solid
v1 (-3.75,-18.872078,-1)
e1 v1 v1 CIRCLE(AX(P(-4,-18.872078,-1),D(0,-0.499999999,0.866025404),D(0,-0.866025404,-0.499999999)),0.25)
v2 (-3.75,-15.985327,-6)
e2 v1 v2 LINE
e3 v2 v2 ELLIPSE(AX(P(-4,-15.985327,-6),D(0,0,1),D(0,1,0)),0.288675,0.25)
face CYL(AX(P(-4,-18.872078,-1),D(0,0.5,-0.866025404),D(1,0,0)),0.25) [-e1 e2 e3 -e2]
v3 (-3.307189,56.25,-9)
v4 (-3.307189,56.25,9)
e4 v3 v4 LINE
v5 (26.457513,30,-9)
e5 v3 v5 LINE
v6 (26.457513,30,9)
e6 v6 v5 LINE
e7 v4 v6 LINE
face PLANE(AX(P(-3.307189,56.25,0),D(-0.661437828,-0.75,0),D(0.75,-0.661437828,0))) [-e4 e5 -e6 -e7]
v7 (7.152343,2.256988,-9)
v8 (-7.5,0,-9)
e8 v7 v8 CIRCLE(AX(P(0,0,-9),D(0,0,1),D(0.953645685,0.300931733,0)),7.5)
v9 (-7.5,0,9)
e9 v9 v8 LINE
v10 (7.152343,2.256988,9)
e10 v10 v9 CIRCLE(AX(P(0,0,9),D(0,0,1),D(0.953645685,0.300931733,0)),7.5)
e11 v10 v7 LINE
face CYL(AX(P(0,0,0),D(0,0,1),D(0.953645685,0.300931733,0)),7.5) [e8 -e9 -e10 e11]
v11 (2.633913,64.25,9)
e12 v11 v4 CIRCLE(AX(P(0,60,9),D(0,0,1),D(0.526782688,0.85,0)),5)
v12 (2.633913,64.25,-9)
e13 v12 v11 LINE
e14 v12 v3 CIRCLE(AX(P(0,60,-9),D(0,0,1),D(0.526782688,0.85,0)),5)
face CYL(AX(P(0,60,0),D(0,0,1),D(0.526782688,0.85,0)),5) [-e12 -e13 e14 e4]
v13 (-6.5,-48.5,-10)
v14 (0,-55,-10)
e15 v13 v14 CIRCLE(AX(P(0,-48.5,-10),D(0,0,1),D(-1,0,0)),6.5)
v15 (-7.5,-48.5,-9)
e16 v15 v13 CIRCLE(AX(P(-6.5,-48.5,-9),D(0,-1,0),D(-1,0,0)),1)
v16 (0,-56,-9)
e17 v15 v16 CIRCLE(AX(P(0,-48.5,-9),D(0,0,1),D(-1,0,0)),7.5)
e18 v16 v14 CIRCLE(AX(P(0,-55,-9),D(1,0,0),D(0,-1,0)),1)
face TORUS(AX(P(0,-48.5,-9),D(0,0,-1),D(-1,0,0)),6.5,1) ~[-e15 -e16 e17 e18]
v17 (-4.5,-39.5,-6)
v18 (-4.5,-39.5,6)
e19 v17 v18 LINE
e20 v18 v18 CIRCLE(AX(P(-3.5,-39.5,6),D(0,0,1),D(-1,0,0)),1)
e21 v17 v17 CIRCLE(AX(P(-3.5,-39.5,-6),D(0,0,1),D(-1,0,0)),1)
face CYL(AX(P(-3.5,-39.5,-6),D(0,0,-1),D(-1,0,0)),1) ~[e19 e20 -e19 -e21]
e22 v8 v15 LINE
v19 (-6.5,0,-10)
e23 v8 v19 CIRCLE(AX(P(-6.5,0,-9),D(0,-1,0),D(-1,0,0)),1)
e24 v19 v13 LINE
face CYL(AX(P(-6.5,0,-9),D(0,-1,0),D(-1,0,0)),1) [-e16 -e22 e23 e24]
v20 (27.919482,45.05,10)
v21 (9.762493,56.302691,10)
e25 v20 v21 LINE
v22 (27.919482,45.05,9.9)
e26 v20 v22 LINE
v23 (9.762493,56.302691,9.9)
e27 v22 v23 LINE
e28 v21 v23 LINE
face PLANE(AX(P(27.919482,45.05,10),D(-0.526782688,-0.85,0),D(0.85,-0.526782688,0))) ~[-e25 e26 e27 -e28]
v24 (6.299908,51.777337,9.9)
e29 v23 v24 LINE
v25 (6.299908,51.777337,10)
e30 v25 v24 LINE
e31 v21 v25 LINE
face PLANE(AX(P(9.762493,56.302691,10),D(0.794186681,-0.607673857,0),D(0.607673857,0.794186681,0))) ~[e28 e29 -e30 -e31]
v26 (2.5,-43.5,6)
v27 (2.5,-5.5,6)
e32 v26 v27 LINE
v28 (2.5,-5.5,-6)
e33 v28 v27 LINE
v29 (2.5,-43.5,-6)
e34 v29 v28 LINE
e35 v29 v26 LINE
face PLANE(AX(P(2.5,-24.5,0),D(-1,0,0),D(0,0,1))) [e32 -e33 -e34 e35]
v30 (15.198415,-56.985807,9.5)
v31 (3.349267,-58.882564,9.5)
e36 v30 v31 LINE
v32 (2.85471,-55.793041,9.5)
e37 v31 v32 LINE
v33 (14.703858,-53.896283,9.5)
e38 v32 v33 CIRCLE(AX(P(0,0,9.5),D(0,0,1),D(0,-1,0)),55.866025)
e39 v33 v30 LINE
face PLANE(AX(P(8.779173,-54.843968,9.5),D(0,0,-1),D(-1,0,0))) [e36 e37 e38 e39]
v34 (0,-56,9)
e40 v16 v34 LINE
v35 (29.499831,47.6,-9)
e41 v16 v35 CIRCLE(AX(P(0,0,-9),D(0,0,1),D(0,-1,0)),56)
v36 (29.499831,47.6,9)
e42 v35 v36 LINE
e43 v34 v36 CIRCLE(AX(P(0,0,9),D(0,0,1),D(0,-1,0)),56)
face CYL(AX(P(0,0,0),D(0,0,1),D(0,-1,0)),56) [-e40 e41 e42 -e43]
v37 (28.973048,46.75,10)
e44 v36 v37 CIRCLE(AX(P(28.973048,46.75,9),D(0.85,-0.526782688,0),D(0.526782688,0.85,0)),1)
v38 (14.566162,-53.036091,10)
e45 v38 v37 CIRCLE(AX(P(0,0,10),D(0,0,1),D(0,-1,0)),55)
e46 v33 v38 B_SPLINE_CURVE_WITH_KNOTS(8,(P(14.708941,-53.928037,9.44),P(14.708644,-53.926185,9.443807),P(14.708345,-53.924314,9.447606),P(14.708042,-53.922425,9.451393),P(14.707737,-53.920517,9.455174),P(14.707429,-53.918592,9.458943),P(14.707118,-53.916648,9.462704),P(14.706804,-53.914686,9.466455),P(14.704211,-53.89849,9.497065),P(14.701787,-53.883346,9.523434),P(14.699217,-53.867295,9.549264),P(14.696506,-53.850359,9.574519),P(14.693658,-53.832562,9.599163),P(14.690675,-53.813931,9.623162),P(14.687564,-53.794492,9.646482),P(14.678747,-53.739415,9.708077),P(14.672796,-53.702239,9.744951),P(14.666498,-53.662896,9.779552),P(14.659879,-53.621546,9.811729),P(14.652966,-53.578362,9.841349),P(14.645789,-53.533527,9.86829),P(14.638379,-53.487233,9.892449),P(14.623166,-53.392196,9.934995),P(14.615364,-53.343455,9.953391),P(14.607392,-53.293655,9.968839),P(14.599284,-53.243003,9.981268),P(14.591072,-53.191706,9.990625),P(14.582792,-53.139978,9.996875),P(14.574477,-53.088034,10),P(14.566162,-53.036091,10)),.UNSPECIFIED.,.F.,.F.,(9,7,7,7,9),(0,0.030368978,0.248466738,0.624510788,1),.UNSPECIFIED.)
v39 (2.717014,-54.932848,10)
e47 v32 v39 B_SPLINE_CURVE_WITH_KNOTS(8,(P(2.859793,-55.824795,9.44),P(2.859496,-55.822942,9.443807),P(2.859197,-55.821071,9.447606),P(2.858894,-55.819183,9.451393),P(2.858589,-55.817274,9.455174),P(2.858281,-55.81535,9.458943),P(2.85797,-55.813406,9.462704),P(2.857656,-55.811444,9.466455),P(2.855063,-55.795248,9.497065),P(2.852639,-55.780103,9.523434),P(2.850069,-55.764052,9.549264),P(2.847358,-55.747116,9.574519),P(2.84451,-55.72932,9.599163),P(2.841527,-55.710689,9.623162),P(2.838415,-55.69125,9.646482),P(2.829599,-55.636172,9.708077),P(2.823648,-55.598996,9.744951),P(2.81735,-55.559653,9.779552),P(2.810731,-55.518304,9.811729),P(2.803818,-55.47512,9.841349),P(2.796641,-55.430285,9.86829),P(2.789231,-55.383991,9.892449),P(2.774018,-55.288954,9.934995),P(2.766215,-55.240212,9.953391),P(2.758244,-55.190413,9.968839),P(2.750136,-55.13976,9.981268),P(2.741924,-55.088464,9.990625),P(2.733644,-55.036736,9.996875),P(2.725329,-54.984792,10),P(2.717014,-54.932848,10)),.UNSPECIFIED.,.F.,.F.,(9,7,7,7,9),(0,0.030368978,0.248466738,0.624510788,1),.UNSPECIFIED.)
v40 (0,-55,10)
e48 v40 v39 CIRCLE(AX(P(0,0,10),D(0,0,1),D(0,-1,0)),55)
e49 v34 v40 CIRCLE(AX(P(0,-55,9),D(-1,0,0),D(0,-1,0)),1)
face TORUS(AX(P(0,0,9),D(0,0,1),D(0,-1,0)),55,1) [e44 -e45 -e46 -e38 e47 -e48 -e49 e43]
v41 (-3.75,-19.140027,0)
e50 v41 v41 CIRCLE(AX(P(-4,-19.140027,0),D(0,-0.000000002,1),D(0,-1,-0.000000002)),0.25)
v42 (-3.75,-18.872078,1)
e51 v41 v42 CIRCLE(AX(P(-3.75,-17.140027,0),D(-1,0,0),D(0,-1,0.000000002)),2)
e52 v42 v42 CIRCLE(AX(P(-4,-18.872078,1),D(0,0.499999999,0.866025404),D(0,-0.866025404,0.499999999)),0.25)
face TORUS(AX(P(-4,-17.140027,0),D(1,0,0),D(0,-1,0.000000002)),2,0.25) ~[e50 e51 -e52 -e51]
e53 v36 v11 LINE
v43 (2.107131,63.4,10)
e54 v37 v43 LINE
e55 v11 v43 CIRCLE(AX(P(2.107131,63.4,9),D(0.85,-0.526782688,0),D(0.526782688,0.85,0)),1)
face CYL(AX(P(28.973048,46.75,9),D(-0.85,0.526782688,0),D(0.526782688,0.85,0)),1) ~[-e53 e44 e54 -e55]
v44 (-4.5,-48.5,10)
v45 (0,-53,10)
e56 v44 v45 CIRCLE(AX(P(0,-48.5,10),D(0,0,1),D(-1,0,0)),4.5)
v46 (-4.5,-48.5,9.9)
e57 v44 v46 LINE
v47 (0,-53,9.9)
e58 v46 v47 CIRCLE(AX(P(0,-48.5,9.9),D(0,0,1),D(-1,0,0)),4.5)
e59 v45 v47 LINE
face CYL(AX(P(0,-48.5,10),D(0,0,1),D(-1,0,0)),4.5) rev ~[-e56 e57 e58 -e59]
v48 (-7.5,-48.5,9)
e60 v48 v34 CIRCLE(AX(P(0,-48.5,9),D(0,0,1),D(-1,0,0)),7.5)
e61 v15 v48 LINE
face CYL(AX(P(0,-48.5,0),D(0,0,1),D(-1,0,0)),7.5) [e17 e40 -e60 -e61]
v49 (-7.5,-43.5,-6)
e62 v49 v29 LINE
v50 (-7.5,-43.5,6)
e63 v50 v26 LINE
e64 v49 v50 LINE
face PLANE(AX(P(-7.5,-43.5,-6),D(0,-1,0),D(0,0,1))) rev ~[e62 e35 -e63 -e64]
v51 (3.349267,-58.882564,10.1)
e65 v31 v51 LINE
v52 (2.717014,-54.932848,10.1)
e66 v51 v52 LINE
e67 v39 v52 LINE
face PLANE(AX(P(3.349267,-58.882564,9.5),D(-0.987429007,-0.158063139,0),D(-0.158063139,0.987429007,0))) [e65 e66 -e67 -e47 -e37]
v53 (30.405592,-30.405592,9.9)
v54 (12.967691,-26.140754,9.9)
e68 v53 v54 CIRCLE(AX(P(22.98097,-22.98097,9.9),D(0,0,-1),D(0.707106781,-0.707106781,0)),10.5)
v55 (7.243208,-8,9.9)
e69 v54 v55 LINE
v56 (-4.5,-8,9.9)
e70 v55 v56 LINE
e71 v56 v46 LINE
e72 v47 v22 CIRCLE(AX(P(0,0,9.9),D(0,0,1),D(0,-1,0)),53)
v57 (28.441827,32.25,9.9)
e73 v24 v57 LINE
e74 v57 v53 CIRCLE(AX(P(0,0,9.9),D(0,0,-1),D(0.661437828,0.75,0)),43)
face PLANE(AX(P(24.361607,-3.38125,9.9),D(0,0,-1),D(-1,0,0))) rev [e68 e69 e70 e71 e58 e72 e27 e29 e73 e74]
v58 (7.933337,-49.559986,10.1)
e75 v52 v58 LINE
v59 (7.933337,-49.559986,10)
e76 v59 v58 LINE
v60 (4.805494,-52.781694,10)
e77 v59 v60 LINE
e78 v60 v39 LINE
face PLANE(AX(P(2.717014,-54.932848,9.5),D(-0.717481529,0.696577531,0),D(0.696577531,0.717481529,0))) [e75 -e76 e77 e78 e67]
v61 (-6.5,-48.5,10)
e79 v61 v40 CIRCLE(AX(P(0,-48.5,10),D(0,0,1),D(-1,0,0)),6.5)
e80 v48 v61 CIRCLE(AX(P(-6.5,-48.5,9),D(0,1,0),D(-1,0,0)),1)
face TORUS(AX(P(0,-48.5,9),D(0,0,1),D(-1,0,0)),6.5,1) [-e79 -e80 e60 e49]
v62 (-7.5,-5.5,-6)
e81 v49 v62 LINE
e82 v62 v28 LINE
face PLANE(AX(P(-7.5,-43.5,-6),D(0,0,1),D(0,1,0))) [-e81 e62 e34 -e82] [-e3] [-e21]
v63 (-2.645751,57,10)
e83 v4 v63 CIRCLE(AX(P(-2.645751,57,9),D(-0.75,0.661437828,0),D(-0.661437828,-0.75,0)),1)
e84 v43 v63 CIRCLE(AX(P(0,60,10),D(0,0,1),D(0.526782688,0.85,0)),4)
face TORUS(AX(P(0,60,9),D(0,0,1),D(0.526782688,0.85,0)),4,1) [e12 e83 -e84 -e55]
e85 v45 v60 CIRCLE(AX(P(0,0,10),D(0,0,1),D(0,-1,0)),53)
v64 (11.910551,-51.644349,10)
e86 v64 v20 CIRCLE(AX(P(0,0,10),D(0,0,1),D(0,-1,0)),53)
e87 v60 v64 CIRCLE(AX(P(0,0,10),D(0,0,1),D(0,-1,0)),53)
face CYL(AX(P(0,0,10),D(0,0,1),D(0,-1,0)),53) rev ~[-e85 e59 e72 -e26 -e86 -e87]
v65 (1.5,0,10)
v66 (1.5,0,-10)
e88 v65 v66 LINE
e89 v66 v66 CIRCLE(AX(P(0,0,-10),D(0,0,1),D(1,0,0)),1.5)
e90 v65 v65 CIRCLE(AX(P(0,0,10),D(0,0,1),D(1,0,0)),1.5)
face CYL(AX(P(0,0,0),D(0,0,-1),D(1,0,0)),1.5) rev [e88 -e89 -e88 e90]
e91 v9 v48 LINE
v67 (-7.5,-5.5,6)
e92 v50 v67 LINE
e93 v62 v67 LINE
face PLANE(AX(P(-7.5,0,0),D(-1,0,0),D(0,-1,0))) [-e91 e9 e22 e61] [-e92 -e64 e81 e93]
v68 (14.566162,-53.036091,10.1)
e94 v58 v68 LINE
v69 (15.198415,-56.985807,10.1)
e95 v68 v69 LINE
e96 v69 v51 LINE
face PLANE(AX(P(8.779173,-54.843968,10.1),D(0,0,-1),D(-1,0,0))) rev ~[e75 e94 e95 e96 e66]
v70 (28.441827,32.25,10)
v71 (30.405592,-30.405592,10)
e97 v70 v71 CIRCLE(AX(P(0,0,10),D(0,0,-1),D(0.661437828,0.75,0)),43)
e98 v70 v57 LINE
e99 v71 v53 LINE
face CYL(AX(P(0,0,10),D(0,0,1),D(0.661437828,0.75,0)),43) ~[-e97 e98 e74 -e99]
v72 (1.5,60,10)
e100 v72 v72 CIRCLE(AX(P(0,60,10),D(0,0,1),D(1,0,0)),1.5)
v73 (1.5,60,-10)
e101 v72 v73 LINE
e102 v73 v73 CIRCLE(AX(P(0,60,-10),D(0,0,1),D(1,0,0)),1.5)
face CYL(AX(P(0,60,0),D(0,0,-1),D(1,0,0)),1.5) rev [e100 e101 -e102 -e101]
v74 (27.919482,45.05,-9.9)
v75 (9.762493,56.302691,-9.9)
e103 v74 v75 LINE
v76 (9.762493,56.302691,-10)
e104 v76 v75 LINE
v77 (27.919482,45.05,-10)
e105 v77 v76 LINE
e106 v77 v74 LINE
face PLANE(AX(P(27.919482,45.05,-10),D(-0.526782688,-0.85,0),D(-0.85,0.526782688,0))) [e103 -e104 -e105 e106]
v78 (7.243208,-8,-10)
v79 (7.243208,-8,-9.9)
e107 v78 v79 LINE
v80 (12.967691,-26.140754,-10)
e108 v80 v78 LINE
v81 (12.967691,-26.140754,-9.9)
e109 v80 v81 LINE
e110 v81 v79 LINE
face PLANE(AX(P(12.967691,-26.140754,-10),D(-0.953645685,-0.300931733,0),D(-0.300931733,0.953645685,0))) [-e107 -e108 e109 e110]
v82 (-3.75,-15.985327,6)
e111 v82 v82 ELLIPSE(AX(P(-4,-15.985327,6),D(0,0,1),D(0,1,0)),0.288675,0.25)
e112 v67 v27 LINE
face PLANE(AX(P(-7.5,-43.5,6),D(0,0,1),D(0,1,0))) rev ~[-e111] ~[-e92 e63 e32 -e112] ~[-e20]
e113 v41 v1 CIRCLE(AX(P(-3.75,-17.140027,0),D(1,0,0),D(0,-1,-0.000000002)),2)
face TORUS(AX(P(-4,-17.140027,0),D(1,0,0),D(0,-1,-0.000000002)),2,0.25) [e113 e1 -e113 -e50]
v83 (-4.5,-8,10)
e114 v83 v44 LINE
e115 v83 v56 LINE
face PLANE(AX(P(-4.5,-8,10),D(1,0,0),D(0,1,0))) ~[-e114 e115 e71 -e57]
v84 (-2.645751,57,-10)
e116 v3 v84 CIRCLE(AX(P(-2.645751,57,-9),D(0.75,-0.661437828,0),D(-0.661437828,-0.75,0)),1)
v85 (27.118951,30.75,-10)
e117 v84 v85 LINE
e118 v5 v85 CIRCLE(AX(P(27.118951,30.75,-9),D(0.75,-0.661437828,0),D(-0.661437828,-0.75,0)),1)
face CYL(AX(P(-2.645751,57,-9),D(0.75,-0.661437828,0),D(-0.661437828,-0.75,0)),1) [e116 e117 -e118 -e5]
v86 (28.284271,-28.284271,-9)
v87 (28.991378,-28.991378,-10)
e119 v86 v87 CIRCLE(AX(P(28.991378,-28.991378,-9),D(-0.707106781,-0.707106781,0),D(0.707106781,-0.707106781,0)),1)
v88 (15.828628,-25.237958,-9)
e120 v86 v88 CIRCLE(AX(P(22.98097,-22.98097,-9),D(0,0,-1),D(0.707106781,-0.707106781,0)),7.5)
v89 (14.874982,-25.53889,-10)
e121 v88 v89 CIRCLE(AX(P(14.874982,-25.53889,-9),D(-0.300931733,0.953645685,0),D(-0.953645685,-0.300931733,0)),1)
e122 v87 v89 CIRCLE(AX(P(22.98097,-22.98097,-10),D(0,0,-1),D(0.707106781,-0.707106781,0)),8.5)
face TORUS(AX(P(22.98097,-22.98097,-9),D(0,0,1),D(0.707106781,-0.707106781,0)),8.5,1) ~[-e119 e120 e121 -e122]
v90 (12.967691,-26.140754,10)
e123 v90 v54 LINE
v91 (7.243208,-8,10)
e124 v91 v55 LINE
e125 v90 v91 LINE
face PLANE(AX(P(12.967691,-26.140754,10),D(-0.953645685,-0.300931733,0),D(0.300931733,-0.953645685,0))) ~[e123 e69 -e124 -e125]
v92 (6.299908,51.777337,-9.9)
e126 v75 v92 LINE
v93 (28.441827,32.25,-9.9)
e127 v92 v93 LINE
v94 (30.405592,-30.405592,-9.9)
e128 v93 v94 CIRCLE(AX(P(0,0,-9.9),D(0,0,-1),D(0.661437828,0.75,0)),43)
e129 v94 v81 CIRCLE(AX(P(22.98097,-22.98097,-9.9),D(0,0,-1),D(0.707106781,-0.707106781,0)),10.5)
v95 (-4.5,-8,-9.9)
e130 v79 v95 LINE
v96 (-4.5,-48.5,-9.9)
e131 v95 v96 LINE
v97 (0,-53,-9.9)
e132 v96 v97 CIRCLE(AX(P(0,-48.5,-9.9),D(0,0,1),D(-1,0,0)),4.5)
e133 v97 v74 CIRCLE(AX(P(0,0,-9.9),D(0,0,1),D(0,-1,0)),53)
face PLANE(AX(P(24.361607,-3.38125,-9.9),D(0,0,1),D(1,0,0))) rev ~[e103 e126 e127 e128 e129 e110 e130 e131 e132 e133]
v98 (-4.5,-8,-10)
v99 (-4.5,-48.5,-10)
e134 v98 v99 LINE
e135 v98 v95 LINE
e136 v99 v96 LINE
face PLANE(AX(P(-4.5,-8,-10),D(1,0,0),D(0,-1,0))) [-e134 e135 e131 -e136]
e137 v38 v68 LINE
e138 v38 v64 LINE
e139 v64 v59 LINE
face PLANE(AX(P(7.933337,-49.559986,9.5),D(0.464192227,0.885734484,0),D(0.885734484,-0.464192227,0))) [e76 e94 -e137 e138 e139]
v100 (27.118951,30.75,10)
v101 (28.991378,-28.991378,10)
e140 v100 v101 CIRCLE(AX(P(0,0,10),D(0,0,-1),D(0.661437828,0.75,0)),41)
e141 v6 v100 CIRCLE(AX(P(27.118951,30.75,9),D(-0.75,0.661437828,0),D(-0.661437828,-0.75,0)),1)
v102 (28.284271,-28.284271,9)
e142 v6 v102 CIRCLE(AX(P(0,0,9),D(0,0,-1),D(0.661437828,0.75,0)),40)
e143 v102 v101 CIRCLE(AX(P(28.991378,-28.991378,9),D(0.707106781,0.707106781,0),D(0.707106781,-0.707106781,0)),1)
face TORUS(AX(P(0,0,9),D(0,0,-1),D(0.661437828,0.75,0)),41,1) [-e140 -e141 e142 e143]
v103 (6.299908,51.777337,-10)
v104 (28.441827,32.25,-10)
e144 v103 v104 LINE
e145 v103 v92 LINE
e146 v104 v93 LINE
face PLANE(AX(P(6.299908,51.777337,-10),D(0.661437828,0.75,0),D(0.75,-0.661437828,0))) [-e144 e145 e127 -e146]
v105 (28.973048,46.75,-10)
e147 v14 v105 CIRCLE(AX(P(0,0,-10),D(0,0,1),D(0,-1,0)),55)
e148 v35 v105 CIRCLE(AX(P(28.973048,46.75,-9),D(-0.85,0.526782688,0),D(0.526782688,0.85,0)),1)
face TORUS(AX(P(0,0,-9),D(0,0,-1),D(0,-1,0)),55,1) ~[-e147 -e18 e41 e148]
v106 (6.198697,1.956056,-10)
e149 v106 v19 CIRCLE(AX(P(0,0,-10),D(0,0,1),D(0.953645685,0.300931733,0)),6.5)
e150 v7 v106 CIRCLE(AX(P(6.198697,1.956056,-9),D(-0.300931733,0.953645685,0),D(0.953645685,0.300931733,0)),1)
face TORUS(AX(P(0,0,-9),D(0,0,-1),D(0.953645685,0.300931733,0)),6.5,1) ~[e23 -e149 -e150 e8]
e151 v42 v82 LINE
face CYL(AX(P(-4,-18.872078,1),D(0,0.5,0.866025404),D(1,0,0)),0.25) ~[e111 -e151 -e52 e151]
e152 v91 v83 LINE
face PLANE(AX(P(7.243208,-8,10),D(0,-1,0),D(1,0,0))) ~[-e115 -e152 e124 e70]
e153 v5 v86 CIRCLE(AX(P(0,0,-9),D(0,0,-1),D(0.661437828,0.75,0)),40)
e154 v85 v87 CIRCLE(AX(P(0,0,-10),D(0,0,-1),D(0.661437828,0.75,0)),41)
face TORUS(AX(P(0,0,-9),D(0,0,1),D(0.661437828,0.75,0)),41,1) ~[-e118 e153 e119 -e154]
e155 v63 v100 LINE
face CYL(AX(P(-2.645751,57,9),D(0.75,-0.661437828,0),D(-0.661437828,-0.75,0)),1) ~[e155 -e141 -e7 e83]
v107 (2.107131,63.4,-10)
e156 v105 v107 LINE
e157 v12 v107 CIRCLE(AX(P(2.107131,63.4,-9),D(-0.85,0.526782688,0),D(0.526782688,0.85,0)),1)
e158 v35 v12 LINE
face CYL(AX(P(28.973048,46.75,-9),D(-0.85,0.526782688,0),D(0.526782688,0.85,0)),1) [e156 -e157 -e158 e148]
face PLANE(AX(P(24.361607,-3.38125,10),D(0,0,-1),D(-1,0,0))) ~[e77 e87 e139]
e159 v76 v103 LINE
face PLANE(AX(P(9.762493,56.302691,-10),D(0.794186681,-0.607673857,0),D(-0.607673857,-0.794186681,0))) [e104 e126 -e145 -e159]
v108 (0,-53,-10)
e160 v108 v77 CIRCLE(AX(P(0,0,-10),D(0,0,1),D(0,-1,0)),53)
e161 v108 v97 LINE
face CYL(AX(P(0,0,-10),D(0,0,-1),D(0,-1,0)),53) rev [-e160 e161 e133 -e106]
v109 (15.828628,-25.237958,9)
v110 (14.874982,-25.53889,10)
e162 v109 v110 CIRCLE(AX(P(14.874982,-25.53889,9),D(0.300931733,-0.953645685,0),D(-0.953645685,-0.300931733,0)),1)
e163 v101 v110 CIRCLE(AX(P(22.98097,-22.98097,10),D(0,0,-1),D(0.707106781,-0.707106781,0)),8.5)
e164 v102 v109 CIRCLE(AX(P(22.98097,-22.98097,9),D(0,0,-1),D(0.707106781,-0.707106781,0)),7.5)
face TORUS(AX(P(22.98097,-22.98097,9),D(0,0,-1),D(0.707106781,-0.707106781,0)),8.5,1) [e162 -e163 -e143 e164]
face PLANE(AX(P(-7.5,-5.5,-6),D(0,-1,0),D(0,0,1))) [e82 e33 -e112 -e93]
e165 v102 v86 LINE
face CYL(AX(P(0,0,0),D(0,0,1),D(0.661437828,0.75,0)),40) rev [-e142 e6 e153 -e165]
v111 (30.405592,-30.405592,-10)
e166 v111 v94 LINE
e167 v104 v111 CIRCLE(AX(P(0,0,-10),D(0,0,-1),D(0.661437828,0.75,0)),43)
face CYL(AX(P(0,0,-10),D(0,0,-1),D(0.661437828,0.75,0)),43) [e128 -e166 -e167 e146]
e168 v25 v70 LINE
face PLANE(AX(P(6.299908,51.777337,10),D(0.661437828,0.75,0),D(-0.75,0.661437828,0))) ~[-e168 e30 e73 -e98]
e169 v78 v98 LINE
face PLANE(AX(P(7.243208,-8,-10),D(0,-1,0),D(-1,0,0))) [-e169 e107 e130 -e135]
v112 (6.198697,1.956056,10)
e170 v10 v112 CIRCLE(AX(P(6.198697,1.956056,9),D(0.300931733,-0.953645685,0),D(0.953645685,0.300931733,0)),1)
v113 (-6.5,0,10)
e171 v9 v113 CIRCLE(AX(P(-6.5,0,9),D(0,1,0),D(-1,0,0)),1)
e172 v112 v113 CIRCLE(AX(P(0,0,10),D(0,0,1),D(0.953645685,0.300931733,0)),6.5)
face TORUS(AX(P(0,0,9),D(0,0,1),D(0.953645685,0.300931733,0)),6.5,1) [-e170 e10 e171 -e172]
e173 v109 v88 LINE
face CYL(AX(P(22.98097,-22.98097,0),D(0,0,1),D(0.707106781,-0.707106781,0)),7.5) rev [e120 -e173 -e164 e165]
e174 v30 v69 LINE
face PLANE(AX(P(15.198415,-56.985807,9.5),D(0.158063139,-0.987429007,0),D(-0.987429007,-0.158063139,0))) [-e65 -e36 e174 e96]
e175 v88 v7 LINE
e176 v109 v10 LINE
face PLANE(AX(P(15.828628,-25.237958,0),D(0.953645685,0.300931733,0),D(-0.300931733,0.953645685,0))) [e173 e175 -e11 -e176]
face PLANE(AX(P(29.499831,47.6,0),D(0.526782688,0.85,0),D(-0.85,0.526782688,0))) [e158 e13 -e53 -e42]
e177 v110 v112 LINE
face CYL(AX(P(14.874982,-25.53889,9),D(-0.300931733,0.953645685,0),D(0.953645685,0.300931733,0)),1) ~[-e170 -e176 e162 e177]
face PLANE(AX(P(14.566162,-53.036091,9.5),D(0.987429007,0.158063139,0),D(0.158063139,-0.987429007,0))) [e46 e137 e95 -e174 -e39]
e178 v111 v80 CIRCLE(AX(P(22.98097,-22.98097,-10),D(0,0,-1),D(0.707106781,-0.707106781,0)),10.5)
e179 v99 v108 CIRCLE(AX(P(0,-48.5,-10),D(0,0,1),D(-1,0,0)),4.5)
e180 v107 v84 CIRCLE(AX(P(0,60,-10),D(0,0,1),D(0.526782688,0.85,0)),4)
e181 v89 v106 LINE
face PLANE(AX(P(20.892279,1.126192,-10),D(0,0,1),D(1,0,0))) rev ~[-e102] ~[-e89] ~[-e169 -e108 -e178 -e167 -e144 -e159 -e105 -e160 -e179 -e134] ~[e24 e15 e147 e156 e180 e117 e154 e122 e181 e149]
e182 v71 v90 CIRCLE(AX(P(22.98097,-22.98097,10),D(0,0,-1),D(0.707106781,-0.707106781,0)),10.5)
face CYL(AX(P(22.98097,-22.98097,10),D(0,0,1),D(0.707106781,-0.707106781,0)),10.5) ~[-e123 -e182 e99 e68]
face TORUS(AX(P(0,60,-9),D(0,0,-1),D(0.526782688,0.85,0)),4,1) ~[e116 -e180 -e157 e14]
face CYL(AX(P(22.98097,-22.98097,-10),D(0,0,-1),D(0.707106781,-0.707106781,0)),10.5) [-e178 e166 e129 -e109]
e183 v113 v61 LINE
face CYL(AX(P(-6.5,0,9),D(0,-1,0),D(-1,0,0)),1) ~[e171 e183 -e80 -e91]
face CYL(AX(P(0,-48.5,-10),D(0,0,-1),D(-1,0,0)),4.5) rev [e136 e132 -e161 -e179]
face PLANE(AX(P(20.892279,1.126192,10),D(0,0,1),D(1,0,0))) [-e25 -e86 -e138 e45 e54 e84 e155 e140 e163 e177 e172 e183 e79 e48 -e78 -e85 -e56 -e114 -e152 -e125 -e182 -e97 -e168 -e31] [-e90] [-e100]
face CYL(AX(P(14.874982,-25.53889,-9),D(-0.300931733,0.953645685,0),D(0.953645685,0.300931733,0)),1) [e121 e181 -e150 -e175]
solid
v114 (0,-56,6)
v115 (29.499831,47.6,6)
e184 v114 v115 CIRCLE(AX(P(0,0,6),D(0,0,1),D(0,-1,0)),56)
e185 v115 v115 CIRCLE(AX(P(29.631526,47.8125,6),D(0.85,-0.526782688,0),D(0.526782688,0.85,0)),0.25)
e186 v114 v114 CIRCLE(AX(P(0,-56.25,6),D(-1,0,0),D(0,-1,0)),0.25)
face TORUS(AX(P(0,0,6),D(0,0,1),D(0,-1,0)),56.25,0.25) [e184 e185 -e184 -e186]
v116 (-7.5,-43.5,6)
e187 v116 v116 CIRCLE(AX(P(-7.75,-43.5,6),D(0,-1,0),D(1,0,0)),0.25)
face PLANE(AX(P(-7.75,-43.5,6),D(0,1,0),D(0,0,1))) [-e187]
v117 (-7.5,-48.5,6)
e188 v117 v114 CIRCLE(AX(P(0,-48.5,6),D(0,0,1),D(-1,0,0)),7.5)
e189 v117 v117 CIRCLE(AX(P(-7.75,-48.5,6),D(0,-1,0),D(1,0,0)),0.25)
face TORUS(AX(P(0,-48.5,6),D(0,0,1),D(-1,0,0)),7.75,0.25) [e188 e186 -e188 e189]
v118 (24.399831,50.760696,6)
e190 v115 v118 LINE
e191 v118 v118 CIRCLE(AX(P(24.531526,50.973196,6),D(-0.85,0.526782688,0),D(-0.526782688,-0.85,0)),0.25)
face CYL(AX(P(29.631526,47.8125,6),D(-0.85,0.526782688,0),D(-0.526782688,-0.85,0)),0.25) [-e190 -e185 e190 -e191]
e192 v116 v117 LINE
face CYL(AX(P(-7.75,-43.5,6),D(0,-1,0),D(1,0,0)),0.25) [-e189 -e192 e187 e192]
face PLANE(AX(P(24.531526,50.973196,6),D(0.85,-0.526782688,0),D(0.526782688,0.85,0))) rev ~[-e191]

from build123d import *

# Parameters (mm, degrees)
ESQUISSE1_R             = 1.5
BOSS_EXTRU_1_DEPTH      = 10
CONG_1_R                = 1
BOSS_EXTRU_2_DEPTH      = 0.1
BOSS_EXTRU_2_DEPTH_BACK = 0.5
ENL_V_MAT_EXTRU_2_DEPTH = 0.1
ESQUISSE5_W             = 12
ESQUISSE5_H             = 38
ENL_V_MAT_EXTRU_3_DEPTH = 10
ESQUISSE6_R             = 1
BOSS_EXTRU_3_DEPTH      = 12
ESQUISSE9_R             = 0.25
ESQUISSE11_R            = 0.25


with BuildPart() as part:
    # Esquisse1 → Boss.-Extru.1 (new, symmetric)
    with BuildSketch(Plane.XY):
        with BuildLine():
            Line((-7.5, 0), (-7.5, -48.5))
            ThreePointArc((-7.5, -48.5), (-5.303300859, -53.803300859), (0, -56))
            ThreePointArc((0, -56), (53.859075373, -15.33623161), (29.499830508, 47.6))
            Line((29.499830508, 47.6), (2.633913438, 64.25))
            ThreePointArc((2.633913438, 64.25), (-4.014140636, 62.981052659), (-3.307189139, 56.25))
            Line((-3.307189139, 56.25), (26.457513111, 30))
            ThreePointArc((26.457513111, 30), (39.980367775, 1.253073266), (28.284271247, -28.284271247))
            ThreePointArc((28.284271247, -28.284271247), (21.199189149, -30.266247021), (15.828627753, -25.237958386))
            Line((15.828627753, -25.237958386), (7.152342636, 2.256987997))
            ThreePointArc((7.152342636, 2.256987997), (-1.141803449, 7.41257613), (-7.5, 0))
        make_face()
        with Locations((0, 60)):
            Circle(ESQUISSE1_R, mode=Mode.SUBTRACT)
        Circle(ESQUISSE1_R, mode=Mode.SUBTRACT)
    extrude(amount=BOSS_EXTRU_1_DEPTH, both=True)

    # Congé1
    cong_1_edges = [part.edges().sort_by_distance(p)[0] for p in [
        (-4.014140636, 62.981052659, 10),
        (-1.141803449, 7.41257613, -10),
        (11.490485194, -11.490485194, -10),
        (21.199189149, -30.266247021, -10),
        (39.980367775, 1.253073266, -10),
        (11.575161986, 43.125, -10),
        (-4.014140636, 62.981052659, -10),
        (16.066871973, 55.925, -10),
        (53.859075373, -15.33623161, -10),
        (11.575161986, 43.125, 10),
        (39.980367775, 1.253073266, 10),
        (21.199189149, -30.266247021, 10),
        (11.490485194, -11.490485194, 10),
        (-1.141803449, 7.41257613, 10),
        (-7.5, -24.25, 10),
        (-5.303300859, -53.803300859, 10),
        (53.859075373, -15.33623161, 10),
        (16.066871973, 55.925, 10),
        (-5.303300859, -53.803300859, -10),
        (-7.5, -24.25, -10),
    ]]
    fillet(cong_1_edges, radius=CONG_1_R)

    # Esquisse2 → Boss.-Extru.2 (add, two sides: drawn at the far end of the back side and taken through both)
    with BuildSketch(Plane.XY.offset(10).offset(-BOSS_EXTRU_2_DEPTH_BACK)):
        Polygon((14.56616208, -53.036090752), (15.198414635, -56.985806781), (3.349266549, -58.882564443), (2.717013994, -54.932848415), (7.933336842, -49.559985919), align=None)
    extrude(amount=BOSS_EXTRU_2_DEPTH + BOSS_EXTRU_2_DEPTH_BACK)

    # Esquisse4 → Enlèv. mat.-Extru.2 (cut)
    with BuildSketch(Plane(origin=(0, 0, -10), x_dir=(-1, 0, 0), z_dir=(0, 0, -1))):
        with BuildLine():
            Line((-7.243207801, -8), (4.5, -8))
            Line((4.5, -8), (4.5, -48.5))
            ThreePointArc((4.5, -48.5), (3.181980515, -51.681980515), (0, -53))
            ThreePointArc((0, -53), (-50.973767763, -14.514647774), (-27.919482445, 45.05))
            Line((-27.919482445, 45.05), (-9.762493273, 56.302691242))
            Line((-9.762493273, 56.302691242), (-6.299907598, 51.777337071))
            Line((-6.299907598, 51.777337071), (-28.441826594, 32.25))
            ThreePointArc((-28.441826594, 32.25), (-42.978895358, 1.347053761), (-30.405591591, -30.405591591))
            ThreePointArc((-30.405591591, -30.405591591), (-20.486476653, -33.180357674), (-12.967690698, -26.140753584))
            Line((-12.967690698, -26.140753584), (-7.243207801, -8))
        make_face()
    enl_v_mat_extru_2 = extrude(amount=-ENL_V_MAT_EXTRU_2_DEPTH, mode=Mode.SUBTRACT)

    # Symétrie1: Enlèv. mat.-Extru.2 across plane
    add(enl_v_mat_extru_2.mirror(Plane.XY), mode=Mode.SUBTRACT)

    # Esquisse5 → Enlèv. mat.-Extru.3 (cut)
    with BuildSketch(Plane.ZY.offset(7.5)):
        with Locations((0, -24.5)):
            Rectangle(ESQUISSE5_W, ESQUISSE5_H)
    extrude(amount=-ENL_V_MAT_EXTRU_3_DEPTH, mode=Mode.SUBTRACT)

    # Esquisse6 → Boss.-Extru.3 (add)
    with BuildSketch(Plane.XY.offset(-6)):
        with Locations(Location((-3.5, -39.5, 0), (0, 0, 180))):
            Circle(ESQUISSE6_R)
    extrude(amount=BOSS_EXTRU_3_DEPTH)

    # Balayage1: sweep along a path in Esquisse7
    with BuildLine(Plane.ZY.offset(4)) as balayage1_path:
        ThreePointArc((0, -19.140027412), (-0.51763809, -19.071879064), (-1, -18.872078219))
        Line((-1, -18.872078219), (-7.476454329, -15.132895569))
    # Esquisse9 → Balayage1 (sweep)
    with BuildSketch(Plane.XY):
        with Locations((-4, -19.140027412)):
            Circle(ESQUISSE9_R)
    balayage1 = sweep(path=balayage1_path.line)

    # Symétrie2: Balayage1 across Front Plane
    add(balayage1.mirror(Plane.XY))


with BuildPart() as body_2:
    # Balayage3: sweep along a path in Esquisse10
    with BuildLine(Plane(origin=(0, 0, 6), x_dir=(-1, 0, 0), z_dir=(0, 0, -1))) as balayage3_path:
        Line((7.75, -43.5), (7.75, -48.5))
        ThreePointArc((7.75, -48.5), (5.480077554, -53.980077554), (0, -56.25))
        ThreePointArc((0, -56.25), (-54.099517673, -15.40469693), (-29.63152618, 47.8125))
        Line((-29.63152618, 47.8125), (-24.53152618, 50.973196126))
    # Esquisse11 → Balayage3 (sweep)
    with BuildSketch(Plane(origin=(0, -43.5, 0), x_dir=(1, 0, 0), z_dir=(0, 1, 0))):
        with Locations((-7.75, -6)):
            Circle(ESQUISSE11_R)
    sweep(path=balayage3_path.line)


solid = Compound([part.part, body_2.part])
